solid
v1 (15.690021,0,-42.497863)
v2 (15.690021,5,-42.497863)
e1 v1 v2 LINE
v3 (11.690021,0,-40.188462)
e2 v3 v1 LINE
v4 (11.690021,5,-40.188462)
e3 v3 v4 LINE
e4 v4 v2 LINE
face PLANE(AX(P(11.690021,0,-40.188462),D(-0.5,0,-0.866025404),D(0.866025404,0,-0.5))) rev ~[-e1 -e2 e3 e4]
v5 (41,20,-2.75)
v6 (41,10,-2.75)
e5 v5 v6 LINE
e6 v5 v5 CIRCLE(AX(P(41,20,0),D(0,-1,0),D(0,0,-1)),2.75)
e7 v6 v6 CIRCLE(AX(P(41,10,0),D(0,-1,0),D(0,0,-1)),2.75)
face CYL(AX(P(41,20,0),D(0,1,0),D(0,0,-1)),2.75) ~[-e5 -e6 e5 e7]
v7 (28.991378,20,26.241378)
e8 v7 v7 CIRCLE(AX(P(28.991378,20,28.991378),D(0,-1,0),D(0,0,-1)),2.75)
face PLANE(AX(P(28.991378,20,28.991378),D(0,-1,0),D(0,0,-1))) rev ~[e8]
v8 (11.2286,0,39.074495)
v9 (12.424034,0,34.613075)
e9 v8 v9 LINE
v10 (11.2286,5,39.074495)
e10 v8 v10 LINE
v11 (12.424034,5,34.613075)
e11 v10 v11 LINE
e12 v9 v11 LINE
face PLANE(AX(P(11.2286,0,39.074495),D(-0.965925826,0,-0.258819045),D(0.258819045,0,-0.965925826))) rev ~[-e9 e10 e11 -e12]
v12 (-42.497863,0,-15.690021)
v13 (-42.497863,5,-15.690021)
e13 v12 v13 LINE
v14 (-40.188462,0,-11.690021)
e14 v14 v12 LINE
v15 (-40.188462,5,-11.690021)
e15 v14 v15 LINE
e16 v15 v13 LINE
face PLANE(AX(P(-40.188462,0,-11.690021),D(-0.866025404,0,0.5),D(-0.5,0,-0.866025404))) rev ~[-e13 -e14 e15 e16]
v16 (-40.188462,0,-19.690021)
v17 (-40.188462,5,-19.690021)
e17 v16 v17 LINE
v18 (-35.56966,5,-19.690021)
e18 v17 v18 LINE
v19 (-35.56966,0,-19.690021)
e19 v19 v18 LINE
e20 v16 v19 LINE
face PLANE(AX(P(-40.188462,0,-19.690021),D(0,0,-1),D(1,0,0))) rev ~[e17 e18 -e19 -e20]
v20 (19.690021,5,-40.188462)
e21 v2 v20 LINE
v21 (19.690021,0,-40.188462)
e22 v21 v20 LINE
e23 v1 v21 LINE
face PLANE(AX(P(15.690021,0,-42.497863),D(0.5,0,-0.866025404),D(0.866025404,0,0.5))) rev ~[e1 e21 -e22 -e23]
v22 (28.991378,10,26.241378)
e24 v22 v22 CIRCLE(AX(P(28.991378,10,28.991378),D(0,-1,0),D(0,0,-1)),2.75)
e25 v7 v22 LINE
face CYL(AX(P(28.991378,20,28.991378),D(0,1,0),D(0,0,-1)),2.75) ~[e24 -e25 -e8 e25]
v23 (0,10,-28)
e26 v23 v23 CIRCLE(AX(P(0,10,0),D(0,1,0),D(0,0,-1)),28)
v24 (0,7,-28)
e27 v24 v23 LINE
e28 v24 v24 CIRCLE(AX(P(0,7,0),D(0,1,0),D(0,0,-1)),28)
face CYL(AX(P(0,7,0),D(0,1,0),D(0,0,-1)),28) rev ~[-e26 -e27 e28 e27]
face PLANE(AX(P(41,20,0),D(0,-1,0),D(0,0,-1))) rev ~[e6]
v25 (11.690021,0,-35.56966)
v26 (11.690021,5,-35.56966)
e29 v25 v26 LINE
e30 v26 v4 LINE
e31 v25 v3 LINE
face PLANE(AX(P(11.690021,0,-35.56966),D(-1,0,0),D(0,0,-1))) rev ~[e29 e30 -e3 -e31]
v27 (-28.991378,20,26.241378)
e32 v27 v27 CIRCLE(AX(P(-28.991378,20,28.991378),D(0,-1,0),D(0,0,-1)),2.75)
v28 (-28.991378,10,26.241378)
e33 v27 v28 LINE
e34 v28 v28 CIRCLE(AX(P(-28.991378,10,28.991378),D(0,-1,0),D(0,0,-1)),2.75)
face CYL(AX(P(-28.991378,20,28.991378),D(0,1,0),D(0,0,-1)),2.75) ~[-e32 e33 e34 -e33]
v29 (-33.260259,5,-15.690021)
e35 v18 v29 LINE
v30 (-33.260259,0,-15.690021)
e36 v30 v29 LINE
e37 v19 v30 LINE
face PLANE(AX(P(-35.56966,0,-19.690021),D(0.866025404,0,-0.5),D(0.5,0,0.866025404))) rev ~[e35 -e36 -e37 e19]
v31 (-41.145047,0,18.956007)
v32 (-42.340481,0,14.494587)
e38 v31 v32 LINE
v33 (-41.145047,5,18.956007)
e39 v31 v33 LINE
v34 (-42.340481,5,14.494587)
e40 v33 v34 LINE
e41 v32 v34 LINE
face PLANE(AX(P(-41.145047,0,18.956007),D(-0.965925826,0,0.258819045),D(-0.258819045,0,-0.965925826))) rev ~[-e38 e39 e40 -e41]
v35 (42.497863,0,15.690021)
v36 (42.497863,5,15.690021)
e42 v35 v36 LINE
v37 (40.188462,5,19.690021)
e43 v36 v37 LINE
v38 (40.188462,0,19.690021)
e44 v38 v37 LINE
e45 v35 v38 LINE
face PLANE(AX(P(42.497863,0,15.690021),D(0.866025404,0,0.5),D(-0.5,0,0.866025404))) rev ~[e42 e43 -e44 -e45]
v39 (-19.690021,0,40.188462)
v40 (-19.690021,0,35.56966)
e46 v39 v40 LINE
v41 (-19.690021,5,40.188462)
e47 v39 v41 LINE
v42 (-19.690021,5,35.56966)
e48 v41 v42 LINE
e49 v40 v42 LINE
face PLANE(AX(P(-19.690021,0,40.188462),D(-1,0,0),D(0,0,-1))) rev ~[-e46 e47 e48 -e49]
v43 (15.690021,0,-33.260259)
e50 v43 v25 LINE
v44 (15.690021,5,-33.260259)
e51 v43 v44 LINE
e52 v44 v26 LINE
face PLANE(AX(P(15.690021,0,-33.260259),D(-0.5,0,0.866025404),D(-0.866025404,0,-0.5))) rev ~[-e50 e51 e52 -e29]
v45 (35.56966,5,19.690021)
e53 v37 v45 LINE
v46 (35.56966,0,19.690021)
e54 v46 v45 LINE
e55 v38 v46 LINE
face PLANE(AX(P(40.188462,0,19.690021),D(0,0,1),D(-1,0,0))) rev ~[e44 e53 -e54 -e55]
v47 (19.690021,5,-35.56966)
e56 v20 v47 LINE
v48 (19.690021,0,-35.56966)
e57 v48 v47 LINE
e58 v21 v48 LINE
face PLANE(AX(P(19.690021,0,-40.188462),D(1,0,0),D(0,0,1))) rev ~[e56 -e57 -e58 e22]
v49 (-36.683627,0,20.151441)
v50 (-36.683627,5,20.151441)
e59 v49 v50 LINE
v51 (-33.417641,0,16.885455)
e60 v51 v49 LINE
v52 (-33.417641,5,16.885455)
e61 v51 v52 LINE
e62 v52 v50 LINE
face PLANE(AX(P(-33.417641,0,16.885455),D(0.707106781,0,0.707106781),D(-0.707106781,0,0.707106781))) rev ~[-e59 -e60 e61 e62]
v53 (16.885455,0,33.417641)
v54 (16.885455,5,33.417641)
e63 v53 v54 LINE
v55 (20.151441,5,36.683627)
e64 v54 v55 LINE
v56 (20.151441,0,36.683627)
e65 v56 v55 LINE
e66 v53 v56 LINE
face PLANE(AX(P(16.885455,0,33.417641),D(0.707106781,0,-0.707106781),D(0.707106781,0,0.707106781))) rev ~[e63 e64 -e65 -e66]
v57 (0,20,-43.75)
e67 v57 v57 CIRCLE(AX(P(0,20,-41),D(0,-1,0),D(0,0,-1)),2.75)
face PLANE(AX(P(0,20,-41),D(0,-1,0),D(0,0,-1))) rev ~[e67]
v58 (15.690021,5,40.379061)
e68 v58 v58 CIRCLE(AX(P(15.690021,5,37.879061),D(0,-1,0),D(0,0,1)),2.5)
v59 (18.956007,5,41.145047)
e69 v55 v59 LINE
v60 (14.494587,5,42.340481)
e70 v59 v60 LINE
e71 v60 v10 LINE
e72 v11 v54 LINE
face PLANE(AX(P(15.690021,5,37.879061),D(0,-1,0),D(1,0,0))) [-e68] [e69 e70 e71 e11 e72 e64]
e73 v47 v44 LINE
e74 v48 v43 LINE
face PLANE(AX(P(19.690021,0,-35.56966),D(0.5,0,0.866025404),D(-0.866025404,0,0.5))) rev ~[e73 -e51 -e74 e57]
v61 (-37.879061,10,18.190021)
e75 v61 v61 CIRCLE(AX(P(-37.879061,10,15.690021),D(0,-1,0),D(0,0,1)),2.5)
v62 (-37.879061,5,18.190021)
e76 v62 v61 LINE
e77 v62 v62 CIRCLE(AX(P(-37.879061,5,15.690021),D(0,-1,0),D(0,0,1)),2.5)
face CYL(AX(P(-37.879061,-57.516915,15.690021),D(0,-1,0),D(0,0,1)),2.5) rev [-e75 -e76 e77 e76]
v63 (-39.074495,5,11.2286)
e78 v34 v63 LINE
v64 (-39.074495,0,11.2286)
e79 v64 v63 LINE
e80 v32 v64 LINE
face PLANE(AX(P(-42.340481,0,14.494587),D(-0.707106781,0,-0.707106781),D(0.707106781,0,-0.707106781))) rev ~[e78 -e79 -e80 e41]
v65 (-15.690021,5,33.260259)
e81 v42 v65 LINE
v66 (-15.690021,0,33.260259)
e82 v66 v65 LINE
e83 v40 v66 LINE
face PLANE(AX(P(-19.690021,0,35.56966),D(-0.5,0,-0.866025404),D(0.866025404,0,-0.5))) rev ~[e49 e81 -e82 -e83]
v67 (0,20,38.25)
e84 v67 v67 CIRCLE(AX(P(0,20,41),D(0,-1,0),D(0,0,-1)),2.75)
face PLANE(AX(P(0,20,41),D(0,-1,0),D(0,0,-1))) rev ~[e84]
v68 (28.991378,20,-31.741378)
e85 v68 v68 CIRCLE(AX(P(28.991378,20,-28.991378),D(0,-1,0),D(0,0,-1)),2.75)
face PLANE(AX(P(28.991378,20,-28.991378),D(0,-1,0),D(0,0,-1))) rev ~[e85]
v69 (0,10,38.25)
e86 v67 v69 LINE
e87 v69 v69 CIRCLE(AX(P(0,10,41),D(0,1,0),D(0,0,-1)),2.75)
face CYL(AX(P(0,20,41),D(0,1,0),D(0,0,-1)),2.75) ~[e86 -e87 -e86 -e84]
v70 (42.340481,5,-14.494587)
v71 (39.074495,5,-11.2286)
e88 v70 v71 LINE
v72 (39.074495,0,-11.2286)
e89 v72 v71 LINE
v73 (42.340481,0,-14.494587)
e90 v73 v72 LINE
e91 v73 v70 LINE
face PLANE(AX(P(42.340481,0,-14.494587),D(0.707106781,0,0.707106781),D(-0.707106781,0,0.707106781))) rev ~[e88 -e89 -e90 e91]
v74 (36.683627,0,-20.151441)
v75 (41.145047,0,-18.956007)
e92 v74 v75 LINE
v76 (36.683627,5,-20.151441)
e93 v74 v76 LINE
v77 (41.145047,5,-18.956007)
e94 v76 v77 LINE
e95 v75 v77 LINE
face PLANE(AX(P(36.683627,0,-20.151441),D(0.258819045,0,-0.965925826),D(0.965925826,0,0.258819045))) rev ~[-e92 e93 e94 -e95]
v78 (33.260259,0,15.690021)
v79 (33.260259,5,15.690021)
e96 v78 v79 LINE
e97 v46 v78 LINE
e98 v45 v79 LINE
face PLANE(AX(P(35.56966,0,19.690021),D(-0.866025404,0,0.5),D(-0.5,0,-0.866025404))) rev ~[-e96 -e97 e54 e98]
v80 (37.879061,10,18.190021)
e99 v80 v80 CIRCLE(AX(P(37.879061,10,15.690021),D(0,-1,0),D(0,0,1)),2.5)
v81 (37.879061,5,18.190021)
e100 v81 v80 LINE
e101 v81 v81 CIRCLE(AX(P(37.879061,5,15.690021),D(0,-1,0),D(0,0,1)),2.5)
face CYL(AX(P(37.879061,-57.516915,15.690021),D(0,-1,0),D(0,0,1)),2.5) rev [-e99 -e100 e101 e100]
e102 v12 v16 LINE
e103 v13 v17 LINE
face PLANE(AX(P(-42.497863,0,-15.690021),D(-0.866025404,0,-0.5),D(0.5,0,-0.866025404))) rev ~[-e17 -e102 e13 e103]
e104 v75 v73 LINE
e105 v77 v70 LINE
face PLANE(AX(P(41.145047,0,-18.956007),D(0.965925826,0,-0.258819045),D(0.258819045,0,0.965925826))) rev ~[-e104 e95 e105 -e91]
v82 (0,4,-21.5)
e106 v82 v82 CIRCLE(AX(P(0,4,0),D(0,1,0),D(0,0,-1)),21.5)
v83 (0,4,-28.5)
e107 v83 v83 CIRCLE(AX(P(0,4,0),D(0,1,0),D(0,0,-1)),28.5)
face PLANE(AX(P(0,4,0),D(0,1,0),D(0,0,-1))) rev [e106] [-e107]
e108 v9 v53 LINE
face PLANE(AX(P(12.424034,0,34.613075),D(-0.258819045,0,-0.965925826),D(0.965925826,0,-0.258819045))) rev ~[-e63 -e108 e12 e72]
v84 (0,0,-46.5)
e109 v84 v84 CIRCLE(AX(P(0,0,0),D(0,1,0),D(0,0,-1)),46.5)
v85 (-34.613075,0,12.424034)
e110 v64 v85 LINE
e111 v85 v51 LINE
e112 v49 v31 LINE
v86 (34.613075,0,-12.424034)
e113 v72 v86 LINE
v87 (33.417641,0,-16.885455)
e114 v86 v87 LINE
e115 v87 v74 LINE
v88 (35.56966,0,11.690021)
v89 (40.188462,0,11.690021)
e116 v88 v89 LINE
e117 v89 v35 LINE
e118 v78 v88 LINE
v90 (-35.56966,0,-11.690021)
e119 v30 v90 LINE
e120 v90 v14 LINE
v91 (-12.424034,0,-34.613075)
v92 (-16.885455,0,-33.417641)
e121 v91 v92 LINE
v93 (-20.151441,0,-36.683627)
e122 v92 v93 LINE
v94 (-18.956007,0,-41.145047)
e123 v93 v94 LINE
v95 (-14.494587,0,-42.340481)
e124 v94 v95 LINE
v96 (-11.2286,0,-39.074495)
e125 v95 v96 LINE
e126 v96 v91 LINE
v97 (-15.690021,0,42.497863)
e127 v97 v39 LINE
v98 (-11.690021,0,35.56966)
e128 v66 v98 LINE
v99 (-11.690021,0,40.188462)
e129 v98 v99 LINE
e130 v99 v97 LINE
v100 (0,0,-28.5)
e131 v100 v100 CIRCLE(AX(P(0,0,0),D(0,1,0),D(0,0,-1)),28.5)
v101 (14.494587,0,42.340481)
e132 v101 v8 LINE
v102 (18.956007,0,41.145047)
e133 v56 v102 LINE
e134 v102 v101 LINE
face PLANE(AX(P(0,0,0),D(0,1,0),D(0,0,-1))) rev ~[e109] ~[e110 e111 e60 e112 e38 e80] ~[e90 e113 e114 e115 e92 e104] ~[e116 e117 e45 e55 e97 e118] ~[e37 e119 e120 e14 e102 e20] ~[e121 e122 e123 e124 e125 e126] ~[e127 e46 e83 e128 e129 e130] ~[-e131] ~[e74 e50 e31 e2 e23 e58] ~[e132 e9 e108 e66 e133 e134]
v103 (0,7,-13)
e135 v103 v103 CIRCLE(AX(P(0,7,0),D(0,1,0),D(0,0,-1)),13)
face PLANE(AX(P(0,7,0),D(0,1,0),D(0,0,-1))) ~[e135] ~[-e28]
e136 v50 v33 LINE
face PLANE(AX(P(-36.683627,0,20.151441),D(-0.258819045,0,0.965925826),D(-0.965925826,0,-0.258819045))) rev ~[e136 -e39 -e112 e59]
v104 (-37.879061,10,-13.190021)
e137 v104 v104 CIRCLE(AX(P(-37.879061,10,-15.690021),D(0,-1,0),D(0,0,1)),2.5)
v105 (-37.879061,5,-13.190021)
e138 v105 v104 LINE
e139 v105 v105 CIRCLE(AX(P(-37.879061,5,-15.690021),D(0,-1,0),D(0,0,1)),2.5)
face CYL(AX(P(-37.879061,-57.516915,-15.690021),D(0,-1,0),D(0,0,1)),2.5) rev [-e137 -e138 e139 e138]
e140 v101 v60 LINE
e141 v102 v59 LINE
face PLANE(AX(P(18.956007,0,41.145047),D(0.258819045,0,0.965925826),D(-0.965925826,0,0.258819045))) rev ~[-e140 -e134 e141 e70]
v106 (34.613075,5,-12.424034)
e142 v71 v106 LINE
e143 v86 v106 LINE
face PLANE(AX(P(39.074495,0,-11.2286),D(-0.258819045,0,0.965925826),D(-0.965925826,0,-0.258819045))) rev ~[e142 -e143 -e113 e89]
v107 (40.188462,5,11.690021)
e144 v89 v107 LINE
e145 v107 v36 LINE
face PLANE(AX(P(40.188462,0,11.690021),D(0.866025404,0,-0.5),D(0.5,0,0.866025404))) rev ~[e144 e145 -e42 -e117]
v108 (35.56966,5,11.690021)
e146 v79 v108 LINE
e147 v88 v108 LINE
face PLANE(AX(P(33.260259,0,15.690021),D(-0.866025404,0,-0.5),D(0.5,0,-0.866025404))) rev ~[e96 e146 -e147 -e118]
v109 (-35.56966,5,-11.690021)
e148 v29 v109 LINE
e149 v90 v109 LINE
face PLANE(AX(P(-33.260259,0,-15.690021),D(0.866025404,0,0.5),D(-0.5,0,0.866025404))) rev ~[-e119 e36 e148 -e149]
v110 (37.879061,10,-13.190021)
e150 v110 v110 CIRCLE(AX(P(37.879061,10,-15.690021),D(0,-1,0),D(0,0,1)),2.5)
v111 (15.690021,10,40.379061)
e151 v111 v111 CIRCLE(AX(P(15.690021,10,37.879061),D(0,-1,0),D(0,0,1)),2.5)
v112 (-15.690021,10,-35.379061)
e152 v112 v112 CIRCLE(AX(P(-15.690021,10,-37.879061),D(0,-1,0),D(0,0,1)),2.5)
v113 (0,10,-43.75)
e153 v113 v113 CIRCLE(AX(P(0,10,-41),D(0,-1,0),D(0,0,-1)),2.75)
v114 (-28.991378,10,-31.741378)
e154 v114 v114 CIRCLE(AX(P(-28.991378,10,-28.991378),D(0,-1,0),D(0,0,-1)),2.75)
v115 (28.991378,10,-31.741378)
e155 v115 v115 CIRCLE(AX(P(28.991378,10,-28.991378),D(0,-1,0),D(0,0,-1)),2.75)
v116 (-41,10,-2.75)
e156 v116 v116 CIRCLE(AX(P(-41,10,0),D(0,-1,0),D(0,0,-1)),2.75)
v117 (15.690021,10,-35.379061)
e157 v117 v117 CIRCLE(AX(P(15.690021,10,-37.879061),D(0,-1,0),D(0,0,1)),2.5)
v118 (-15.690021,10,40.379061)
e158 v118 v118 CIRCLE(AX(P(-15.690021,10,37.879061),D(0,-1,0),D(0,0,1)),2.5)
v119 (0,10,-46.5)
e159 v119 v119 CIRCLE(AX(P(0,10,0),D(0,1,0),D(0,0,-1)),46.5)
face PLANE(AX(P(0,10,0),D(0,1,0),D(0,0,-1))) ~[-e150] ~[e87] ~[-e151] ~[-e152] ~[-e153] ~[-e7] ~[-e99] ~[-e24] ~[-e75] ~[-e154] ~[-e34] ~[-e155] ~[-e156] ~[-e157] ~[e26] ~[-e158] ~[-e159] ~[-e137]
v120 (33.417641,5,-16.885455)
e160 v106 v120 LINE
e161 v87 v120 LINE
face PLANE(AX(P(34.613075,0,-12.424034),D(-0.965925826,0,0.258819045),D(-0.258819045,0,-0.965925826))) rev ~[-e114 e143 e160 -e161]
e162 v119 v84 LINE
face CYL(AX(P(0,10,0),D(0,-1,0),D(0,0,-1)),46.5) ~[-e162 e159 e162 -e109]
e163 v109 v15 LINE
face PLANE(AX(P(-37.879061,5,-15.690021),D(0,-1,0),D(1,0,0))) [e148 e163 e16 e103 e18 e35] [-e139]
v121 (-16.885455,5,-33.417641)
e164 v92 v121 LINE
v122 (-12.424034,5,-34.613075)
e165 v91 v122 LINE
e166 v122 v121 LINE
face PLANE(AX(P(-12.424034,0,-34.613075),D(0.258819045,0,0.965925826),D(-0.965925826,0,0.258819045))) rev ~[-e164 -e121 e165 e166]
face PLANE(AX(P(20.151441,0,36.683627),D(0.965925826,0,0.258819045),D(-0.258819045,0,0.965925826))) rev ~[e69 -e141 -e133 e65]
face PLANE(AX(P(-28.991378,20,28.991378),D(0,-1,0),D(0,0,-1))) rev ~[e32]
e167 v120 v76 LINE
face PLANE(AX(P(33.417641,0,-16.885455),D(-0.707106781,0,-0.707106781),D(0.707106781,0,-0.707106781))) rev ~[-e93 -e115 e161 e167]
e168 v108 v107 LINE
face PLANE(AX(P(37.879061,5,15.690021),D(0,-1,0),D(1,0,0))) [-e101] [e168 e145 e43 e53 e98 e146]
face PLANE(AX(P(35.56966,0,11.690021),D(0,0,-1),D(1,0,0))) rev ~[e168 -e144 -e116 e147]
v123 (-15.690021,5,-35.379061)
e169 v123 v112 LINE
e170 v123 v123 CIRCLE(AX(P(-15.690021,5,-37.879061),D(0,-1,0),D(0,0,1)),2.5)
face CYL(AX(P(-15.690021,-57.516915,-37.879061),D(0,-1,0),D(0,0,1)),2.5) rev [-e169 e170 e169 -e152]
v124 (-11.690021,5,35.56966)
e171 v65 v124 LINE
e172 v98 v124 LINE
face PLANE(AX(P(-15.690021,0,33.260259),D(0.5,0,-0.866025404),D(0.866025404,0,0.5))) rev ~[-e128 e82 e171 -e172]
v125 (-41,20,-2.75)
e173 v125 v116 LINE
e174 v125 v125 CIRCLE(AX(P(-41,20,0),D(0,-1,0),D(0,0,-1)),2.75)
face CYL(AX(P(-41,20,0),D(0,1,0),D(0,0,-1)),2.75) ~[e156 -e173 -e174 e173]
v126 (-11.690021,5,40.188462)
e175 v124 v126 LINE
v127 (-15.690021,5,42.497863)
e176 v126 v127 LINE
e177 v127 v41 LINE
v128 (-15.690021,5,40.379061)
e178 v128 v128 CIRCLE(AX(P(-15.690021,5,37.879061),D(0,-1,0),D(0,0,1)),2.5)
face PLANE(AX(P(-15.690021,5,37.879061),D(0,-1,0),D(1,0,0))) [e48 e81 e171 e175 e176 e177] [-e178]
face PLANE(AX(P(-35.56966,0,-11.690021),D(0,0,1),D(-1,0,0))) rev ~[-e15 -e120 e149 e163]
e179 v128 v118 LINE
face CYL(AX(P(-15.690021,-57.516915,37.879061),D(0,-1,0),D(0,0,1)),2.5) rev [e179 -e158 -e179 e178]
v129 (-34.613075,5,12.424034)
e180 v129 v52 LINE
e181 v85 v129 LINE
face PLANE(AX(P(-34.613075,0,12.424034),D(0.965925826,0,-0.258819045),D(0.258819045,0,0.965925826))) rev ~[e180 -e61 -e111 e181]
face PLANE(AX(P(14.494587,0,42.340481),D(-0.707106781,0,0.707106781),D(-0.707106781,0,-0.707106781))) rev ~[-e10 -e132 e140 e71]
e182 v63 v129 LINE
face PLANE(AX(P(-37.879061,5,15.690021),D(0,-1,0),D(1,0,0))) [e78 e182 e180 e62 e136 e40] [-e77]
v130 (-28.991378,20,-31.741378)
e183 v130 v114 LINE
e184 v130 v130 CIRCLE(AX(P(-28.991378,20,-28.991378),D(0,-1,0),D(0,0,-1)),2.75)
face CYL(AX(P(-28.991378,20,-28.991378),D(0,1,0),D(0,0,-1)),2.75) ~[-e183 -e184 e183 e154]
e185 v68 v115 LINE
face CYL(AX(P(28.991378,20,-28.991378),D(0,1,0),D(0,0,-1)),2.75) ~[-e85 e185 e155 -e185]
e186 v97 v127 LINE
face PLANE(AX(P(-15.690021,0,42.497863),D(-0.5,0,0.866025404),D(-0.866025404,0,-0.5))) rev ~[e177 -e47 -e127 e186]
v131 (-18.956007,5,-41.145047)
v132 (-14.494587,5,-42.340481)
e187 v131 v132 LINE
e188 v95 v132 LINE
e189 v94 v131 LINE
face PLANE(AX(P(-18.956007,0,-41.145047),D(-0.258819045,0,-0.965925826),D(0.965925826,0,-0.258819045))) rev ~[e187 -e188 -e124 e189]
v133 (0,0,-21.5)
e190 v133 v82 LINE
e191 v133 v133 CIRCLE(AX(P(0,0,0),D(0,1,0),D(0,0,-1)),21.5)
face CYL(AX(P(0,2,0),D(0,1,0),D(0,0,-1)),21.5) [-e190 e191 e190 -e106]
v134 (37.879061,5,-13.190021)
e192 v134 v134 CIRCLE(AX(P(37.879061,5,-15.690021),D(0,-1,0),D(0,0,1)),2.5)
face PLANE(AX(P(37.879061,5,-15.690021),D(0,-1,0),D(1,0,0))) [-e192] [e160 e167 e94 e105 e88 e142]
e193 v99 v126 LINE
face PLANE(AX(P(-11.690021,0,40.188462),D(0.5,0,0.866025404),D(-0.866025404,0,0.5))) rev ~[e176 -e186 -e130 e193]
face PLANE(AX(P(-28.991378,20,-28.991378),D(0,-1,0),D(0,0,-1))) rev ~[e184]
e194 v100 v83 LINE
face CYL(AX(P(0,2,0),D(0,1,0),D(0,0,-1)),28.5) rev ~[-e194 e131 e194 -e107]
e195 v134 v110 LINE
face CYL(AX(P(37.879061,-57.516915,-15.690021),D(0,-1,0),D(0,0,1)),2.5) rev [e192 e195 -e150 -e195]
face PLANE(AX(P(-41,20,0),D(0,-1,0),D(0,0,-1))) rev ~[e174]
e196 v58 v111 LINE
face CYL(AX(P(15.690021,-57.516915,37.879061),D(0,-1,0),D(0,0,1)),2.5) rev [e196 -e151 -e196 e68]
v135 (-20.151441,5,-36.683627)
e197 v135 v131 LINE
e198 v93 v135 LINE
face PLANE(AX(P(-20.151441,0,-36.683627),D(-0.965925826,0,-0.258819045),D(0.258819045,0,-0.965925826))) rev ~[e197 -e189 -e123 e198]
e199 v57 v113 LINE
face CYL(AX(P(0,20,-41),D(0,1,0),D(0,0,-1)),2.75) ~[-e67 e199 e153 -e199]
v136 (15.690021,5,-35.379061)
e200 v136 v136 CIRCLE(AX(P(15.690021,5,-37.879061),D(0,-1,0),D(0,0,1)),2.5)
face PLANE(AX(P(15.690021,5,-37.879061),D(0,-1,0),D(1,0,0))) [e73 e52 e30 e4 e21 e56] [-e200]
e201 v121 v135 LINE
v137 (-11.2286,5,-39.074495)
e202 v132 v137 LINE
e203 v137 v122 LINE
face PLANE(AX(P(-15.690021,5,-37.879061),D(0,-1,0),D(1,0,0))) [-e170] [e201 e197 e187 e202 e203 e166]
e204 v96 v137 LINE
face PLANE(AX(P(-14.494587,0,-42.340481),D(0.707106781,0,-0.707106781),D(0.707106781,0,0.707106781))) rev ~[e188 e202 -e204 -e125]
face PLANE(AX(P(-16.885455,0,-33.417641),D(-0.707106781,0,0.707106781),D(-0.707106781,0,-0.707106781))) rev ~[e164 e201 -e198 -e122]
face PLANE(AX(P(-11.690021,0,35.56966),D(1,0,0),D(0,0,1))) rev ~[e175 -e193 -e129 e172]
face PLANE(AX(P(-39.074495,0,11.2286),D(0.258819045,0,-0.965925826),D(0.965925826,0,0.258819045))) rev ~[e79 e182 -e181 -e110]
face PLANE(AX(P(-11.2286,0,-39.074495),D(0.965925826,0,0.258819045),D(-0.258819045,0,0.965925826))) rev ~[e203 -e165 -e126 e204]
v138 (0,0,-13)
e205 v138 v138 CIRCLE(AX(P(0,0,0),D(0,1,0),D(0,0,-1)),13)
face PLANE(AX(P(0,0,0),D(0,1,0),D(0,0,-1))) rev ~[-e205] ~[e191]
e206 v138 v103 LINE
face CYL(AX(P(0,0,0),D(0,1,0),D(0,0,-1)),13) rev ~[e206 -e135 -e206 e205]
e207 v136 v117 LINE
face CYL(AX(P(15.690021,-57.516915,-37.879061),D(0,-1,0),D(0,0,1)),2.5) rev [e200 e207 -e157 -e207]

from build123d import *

# Parameters (mm, degrees)
CUT_EXTRUDE1_DEPTH      = 67.516915142
CUT_EXTRUDE1_DEPTH_BACK = 67.516915142
SKETCH2_R               = 2.75
SKETCH2_R_2             = 2.5
SKETCH3_W               = 7
SKETCH3_H               = 4
CUT_EXTRUDE2_DEPTH      = 5
BOSS_EXTRUDE1_START     = -20
SKETCH5_R               = 2.75
BOSS_EXTRUDE1_DEPTH     = 20


with BuildPart() as part:
    # Sketch1 → Revolve1 (revolve)
    with BuildSketch(Plane.XY, mode=Mode.PRIVATE) as revolve1_sk:
        Polygon((-28, 10), (-46.5, 10), (-46.5, 0), (-13, 0), (-13, 7), (-28, 7), align=None)
    revolve(revolve1_sk.sketch.rotate(Axis((0, -1.751877994, 0), (0, 1, 0)), 270), axis=Axis((0, -1.751877994, 0), (0, 1, 0)))

    # Sketch2 → Cut-Extrude1 (cut, two sides: drawn at the far end of the back side and taken through both)
    with BuildSketch(Plane(origin=(0, 10, 0), x_dir=(1, 0, 0), z_dir=(0, 1, 0)).offset(-CUT_EXTRUDE1_DEPTH_BACK)):
        with Locations(Location((0, 41, 0), (0, 0, 270))):
            Circle(SKETCH2_R)
        with Locations(Location((15.690020727, 37.879060833, 0), (0, 0, 270))):
            Circle(SKETCH2_R_2)
        with Locations(Location((28.991378029, 28.991378029, 0), (0, 0, 270))):
            Circle(SKETCH2_R)
        with Locations(Location((37.879060833, 15.690020727, 0), (0, 0, 270))):
            Circle(SKETCH2_R_2)
        with Locations(Location((41, 0, 0), (0, 0, 270))):
            Circle(SKETCH2_R)
        with Locations(Location((37.879060833, -15.690020727, 0), (0, 0, 270))):
            Circle(SKETCH2_R_2)
        with Locations(Location((28.991378029, -28.991378029, 0), (0, 0, 270))):
            Circle(SKETCH2_R)
        with Locations(Location((15.690020727, -37.879060833, 0), (0, 0, 270))):
            Circle(SKETCH2_R_2)
        with Locations(Location((0, -41, 0), (0, 0, 270))):
            Circle(SKETCH2_R)
        with Locations(Location((-15.690020727, -37.879060833, 0), (0, 0, 270))):
            Circle(SKETCH2_R_2)
        with Locations(Location((-28.991378029, -28.991378029, 0), (0, 0, 270))):
            Circle(SKETCH2_R)
        with Locations(Location((-37.879060833, -15.690020727, 0), (0, 0, 270))):
            Circle(SKETCH2_R_2)
        with Locations(Location((-41, 0, 0), (0, 0, 270))):
            Circle(SKETCH2_R)
        with Locations(Location((-37.879060833, 15.690020727, 0), (0, 0, 270))):
            Circle(SKETCH2_R_2)
        with Locations(Location((-28.991378029, 28.991378029, 0), (0, 0, 270))):
            Circle(SKETCH2_R)
        with Locations(Location((-15.690020727, 37.879060833, 0), (0, 0, 270))):
            Circle(SKETCH2_R_2)
    extrude(amount=CUT_EXTRUDE1_DEPTH + CUT_EXTRUDE1_DEPTH_BACK, mode=Mode.SUBTRACT)

    # Sketch3 → Cut-Revolve1 (revolve, cut)
    with BuildSketch(Plane.XY, mode=Mode.PRIVATE) as cut_revolve1_sk:
        with Locations((25, 2)):
            Rectangle(SKETCH3_W, SKETCH3_H)
    revolve(cut_revolve1_sk.sketch.rotate(Axis((0, -19.065406541, 0), (0, 1, 0)), 90), axis=Axis((0, -19.065406541, 0), (0, 1, 0)), mode=Mode.SUBTRACT)

    # Sketch4 → Cut-Extrude2 (cut)
    with BuildSketch(Plane.XZ):
        Polygon((-19.690020727, 40.18846191), (-19.690020727, 35.569659756), (-15.690020727, 33.260258679), (-11.690020727, 35.569659756), (-11.690020727, 40.18846191), (-15.690020727, 42.497862986), align=None)
        Polygon((18.956007051, 41.145047157), (14.494586764, 42.34048112), (11.22860044, 39.074494796), (12.424034403, 34.613074509), (16.88545469, 33.417640546), (20.151441014, 36.68362687), align=None)
        Polygon((42.497862986, 15.690020727), (40.18846191, 19.690020727), (35.569659756, 19.690020727), (33.260258679, 15.690020727), (35.569659756, 11.690020727), (40.18846191, 11.690020727), align=None)
        Polygon((41.145047157, -18.956007051), (42.34048112, -14.494586764), (39.074494796, -11.22860044), (34.613074509, -12.424034403), (33.417640546, -16.88545469), (36.68362687, -20.151441014), align=None)
        Polygon((15.690020727, -42.497862986), (19.690020727, -40.18846191), (19.690020727, -35.569659756), (15.690020727, -33.260258679), (11.690020727, -35.569659756), (11.690020727, -40.18846191), align=None)
        Polygon((-18.956007051, -41.145047157), (-14.494586764, -42.34048112), (-11.22860044, -39.074494796), (-12.424034403, -34.613074509), (-16.88545469, -33.417640546), (-20.151441014, -36.68362687), align=None)
        Polygon((-42.497862986, -15.690020727), (-40.18846191, -19.690020727), (-35.569659756, -19.690020727), (-33.260258679, -15.690020727), (-35.569659756, -11.690020727), (-40.18846191, -11.690020727), align=None)
        Polygon((-41.145047157, 18.956007051), (-42.34048112, 14.494586764), (-39.074494796, 11.22860044), (-34.613074509, 12.424034403), (-33.417640546, 16.88545469), (-36.68362687, 20.151441014), align=None)
    extrude(amount=-CUT_EXTRUDE2_DEPTH, mode=Mode.SUBTRACT)

    # Sketch5 → Boss-Extrude1 (add)
    with BuildSketch(Plane.XZ.offset(BOSS_EXTRUDE1_START)):
        with Locations(Location((0, 41, 0), (0, 0, 270))):
            Circle(SKETCH5_R)
        with Locations(Location((28.991378029, 28.991378029, 0), (0, 0, 270))):
            Circle(SKETCH5_R)
        with Locations(Location((41, 0, 0), (0, 0, 270))):
            Circle(SKETCH5_R)
        with Locations(Location((28.991378029, -28.991378029, 0), (0, 0, 270))):
            Circle(SKETCH5_R)
        with Locations(Location((0, -41, 0), (0, 0, 270))):
            Circle(SKETCH5_R)
        with Locations(Location((-28.991378029, -28.991378029, 0), (0, 0, 270))):
            Circle(SKETCH5_R)
        with Locations(Location((-41, 0, 0), (0, 0, 270))):
            Circle(SKETCH5_R)
        with Locations(Location((-28.991378029, 28.991378029, 0), (0, 0, 270))):
            Circle(SKETCH5_R)
    extrude(amount=BOSS_EXTRUDE1_DEPTH)


solid = part.part
